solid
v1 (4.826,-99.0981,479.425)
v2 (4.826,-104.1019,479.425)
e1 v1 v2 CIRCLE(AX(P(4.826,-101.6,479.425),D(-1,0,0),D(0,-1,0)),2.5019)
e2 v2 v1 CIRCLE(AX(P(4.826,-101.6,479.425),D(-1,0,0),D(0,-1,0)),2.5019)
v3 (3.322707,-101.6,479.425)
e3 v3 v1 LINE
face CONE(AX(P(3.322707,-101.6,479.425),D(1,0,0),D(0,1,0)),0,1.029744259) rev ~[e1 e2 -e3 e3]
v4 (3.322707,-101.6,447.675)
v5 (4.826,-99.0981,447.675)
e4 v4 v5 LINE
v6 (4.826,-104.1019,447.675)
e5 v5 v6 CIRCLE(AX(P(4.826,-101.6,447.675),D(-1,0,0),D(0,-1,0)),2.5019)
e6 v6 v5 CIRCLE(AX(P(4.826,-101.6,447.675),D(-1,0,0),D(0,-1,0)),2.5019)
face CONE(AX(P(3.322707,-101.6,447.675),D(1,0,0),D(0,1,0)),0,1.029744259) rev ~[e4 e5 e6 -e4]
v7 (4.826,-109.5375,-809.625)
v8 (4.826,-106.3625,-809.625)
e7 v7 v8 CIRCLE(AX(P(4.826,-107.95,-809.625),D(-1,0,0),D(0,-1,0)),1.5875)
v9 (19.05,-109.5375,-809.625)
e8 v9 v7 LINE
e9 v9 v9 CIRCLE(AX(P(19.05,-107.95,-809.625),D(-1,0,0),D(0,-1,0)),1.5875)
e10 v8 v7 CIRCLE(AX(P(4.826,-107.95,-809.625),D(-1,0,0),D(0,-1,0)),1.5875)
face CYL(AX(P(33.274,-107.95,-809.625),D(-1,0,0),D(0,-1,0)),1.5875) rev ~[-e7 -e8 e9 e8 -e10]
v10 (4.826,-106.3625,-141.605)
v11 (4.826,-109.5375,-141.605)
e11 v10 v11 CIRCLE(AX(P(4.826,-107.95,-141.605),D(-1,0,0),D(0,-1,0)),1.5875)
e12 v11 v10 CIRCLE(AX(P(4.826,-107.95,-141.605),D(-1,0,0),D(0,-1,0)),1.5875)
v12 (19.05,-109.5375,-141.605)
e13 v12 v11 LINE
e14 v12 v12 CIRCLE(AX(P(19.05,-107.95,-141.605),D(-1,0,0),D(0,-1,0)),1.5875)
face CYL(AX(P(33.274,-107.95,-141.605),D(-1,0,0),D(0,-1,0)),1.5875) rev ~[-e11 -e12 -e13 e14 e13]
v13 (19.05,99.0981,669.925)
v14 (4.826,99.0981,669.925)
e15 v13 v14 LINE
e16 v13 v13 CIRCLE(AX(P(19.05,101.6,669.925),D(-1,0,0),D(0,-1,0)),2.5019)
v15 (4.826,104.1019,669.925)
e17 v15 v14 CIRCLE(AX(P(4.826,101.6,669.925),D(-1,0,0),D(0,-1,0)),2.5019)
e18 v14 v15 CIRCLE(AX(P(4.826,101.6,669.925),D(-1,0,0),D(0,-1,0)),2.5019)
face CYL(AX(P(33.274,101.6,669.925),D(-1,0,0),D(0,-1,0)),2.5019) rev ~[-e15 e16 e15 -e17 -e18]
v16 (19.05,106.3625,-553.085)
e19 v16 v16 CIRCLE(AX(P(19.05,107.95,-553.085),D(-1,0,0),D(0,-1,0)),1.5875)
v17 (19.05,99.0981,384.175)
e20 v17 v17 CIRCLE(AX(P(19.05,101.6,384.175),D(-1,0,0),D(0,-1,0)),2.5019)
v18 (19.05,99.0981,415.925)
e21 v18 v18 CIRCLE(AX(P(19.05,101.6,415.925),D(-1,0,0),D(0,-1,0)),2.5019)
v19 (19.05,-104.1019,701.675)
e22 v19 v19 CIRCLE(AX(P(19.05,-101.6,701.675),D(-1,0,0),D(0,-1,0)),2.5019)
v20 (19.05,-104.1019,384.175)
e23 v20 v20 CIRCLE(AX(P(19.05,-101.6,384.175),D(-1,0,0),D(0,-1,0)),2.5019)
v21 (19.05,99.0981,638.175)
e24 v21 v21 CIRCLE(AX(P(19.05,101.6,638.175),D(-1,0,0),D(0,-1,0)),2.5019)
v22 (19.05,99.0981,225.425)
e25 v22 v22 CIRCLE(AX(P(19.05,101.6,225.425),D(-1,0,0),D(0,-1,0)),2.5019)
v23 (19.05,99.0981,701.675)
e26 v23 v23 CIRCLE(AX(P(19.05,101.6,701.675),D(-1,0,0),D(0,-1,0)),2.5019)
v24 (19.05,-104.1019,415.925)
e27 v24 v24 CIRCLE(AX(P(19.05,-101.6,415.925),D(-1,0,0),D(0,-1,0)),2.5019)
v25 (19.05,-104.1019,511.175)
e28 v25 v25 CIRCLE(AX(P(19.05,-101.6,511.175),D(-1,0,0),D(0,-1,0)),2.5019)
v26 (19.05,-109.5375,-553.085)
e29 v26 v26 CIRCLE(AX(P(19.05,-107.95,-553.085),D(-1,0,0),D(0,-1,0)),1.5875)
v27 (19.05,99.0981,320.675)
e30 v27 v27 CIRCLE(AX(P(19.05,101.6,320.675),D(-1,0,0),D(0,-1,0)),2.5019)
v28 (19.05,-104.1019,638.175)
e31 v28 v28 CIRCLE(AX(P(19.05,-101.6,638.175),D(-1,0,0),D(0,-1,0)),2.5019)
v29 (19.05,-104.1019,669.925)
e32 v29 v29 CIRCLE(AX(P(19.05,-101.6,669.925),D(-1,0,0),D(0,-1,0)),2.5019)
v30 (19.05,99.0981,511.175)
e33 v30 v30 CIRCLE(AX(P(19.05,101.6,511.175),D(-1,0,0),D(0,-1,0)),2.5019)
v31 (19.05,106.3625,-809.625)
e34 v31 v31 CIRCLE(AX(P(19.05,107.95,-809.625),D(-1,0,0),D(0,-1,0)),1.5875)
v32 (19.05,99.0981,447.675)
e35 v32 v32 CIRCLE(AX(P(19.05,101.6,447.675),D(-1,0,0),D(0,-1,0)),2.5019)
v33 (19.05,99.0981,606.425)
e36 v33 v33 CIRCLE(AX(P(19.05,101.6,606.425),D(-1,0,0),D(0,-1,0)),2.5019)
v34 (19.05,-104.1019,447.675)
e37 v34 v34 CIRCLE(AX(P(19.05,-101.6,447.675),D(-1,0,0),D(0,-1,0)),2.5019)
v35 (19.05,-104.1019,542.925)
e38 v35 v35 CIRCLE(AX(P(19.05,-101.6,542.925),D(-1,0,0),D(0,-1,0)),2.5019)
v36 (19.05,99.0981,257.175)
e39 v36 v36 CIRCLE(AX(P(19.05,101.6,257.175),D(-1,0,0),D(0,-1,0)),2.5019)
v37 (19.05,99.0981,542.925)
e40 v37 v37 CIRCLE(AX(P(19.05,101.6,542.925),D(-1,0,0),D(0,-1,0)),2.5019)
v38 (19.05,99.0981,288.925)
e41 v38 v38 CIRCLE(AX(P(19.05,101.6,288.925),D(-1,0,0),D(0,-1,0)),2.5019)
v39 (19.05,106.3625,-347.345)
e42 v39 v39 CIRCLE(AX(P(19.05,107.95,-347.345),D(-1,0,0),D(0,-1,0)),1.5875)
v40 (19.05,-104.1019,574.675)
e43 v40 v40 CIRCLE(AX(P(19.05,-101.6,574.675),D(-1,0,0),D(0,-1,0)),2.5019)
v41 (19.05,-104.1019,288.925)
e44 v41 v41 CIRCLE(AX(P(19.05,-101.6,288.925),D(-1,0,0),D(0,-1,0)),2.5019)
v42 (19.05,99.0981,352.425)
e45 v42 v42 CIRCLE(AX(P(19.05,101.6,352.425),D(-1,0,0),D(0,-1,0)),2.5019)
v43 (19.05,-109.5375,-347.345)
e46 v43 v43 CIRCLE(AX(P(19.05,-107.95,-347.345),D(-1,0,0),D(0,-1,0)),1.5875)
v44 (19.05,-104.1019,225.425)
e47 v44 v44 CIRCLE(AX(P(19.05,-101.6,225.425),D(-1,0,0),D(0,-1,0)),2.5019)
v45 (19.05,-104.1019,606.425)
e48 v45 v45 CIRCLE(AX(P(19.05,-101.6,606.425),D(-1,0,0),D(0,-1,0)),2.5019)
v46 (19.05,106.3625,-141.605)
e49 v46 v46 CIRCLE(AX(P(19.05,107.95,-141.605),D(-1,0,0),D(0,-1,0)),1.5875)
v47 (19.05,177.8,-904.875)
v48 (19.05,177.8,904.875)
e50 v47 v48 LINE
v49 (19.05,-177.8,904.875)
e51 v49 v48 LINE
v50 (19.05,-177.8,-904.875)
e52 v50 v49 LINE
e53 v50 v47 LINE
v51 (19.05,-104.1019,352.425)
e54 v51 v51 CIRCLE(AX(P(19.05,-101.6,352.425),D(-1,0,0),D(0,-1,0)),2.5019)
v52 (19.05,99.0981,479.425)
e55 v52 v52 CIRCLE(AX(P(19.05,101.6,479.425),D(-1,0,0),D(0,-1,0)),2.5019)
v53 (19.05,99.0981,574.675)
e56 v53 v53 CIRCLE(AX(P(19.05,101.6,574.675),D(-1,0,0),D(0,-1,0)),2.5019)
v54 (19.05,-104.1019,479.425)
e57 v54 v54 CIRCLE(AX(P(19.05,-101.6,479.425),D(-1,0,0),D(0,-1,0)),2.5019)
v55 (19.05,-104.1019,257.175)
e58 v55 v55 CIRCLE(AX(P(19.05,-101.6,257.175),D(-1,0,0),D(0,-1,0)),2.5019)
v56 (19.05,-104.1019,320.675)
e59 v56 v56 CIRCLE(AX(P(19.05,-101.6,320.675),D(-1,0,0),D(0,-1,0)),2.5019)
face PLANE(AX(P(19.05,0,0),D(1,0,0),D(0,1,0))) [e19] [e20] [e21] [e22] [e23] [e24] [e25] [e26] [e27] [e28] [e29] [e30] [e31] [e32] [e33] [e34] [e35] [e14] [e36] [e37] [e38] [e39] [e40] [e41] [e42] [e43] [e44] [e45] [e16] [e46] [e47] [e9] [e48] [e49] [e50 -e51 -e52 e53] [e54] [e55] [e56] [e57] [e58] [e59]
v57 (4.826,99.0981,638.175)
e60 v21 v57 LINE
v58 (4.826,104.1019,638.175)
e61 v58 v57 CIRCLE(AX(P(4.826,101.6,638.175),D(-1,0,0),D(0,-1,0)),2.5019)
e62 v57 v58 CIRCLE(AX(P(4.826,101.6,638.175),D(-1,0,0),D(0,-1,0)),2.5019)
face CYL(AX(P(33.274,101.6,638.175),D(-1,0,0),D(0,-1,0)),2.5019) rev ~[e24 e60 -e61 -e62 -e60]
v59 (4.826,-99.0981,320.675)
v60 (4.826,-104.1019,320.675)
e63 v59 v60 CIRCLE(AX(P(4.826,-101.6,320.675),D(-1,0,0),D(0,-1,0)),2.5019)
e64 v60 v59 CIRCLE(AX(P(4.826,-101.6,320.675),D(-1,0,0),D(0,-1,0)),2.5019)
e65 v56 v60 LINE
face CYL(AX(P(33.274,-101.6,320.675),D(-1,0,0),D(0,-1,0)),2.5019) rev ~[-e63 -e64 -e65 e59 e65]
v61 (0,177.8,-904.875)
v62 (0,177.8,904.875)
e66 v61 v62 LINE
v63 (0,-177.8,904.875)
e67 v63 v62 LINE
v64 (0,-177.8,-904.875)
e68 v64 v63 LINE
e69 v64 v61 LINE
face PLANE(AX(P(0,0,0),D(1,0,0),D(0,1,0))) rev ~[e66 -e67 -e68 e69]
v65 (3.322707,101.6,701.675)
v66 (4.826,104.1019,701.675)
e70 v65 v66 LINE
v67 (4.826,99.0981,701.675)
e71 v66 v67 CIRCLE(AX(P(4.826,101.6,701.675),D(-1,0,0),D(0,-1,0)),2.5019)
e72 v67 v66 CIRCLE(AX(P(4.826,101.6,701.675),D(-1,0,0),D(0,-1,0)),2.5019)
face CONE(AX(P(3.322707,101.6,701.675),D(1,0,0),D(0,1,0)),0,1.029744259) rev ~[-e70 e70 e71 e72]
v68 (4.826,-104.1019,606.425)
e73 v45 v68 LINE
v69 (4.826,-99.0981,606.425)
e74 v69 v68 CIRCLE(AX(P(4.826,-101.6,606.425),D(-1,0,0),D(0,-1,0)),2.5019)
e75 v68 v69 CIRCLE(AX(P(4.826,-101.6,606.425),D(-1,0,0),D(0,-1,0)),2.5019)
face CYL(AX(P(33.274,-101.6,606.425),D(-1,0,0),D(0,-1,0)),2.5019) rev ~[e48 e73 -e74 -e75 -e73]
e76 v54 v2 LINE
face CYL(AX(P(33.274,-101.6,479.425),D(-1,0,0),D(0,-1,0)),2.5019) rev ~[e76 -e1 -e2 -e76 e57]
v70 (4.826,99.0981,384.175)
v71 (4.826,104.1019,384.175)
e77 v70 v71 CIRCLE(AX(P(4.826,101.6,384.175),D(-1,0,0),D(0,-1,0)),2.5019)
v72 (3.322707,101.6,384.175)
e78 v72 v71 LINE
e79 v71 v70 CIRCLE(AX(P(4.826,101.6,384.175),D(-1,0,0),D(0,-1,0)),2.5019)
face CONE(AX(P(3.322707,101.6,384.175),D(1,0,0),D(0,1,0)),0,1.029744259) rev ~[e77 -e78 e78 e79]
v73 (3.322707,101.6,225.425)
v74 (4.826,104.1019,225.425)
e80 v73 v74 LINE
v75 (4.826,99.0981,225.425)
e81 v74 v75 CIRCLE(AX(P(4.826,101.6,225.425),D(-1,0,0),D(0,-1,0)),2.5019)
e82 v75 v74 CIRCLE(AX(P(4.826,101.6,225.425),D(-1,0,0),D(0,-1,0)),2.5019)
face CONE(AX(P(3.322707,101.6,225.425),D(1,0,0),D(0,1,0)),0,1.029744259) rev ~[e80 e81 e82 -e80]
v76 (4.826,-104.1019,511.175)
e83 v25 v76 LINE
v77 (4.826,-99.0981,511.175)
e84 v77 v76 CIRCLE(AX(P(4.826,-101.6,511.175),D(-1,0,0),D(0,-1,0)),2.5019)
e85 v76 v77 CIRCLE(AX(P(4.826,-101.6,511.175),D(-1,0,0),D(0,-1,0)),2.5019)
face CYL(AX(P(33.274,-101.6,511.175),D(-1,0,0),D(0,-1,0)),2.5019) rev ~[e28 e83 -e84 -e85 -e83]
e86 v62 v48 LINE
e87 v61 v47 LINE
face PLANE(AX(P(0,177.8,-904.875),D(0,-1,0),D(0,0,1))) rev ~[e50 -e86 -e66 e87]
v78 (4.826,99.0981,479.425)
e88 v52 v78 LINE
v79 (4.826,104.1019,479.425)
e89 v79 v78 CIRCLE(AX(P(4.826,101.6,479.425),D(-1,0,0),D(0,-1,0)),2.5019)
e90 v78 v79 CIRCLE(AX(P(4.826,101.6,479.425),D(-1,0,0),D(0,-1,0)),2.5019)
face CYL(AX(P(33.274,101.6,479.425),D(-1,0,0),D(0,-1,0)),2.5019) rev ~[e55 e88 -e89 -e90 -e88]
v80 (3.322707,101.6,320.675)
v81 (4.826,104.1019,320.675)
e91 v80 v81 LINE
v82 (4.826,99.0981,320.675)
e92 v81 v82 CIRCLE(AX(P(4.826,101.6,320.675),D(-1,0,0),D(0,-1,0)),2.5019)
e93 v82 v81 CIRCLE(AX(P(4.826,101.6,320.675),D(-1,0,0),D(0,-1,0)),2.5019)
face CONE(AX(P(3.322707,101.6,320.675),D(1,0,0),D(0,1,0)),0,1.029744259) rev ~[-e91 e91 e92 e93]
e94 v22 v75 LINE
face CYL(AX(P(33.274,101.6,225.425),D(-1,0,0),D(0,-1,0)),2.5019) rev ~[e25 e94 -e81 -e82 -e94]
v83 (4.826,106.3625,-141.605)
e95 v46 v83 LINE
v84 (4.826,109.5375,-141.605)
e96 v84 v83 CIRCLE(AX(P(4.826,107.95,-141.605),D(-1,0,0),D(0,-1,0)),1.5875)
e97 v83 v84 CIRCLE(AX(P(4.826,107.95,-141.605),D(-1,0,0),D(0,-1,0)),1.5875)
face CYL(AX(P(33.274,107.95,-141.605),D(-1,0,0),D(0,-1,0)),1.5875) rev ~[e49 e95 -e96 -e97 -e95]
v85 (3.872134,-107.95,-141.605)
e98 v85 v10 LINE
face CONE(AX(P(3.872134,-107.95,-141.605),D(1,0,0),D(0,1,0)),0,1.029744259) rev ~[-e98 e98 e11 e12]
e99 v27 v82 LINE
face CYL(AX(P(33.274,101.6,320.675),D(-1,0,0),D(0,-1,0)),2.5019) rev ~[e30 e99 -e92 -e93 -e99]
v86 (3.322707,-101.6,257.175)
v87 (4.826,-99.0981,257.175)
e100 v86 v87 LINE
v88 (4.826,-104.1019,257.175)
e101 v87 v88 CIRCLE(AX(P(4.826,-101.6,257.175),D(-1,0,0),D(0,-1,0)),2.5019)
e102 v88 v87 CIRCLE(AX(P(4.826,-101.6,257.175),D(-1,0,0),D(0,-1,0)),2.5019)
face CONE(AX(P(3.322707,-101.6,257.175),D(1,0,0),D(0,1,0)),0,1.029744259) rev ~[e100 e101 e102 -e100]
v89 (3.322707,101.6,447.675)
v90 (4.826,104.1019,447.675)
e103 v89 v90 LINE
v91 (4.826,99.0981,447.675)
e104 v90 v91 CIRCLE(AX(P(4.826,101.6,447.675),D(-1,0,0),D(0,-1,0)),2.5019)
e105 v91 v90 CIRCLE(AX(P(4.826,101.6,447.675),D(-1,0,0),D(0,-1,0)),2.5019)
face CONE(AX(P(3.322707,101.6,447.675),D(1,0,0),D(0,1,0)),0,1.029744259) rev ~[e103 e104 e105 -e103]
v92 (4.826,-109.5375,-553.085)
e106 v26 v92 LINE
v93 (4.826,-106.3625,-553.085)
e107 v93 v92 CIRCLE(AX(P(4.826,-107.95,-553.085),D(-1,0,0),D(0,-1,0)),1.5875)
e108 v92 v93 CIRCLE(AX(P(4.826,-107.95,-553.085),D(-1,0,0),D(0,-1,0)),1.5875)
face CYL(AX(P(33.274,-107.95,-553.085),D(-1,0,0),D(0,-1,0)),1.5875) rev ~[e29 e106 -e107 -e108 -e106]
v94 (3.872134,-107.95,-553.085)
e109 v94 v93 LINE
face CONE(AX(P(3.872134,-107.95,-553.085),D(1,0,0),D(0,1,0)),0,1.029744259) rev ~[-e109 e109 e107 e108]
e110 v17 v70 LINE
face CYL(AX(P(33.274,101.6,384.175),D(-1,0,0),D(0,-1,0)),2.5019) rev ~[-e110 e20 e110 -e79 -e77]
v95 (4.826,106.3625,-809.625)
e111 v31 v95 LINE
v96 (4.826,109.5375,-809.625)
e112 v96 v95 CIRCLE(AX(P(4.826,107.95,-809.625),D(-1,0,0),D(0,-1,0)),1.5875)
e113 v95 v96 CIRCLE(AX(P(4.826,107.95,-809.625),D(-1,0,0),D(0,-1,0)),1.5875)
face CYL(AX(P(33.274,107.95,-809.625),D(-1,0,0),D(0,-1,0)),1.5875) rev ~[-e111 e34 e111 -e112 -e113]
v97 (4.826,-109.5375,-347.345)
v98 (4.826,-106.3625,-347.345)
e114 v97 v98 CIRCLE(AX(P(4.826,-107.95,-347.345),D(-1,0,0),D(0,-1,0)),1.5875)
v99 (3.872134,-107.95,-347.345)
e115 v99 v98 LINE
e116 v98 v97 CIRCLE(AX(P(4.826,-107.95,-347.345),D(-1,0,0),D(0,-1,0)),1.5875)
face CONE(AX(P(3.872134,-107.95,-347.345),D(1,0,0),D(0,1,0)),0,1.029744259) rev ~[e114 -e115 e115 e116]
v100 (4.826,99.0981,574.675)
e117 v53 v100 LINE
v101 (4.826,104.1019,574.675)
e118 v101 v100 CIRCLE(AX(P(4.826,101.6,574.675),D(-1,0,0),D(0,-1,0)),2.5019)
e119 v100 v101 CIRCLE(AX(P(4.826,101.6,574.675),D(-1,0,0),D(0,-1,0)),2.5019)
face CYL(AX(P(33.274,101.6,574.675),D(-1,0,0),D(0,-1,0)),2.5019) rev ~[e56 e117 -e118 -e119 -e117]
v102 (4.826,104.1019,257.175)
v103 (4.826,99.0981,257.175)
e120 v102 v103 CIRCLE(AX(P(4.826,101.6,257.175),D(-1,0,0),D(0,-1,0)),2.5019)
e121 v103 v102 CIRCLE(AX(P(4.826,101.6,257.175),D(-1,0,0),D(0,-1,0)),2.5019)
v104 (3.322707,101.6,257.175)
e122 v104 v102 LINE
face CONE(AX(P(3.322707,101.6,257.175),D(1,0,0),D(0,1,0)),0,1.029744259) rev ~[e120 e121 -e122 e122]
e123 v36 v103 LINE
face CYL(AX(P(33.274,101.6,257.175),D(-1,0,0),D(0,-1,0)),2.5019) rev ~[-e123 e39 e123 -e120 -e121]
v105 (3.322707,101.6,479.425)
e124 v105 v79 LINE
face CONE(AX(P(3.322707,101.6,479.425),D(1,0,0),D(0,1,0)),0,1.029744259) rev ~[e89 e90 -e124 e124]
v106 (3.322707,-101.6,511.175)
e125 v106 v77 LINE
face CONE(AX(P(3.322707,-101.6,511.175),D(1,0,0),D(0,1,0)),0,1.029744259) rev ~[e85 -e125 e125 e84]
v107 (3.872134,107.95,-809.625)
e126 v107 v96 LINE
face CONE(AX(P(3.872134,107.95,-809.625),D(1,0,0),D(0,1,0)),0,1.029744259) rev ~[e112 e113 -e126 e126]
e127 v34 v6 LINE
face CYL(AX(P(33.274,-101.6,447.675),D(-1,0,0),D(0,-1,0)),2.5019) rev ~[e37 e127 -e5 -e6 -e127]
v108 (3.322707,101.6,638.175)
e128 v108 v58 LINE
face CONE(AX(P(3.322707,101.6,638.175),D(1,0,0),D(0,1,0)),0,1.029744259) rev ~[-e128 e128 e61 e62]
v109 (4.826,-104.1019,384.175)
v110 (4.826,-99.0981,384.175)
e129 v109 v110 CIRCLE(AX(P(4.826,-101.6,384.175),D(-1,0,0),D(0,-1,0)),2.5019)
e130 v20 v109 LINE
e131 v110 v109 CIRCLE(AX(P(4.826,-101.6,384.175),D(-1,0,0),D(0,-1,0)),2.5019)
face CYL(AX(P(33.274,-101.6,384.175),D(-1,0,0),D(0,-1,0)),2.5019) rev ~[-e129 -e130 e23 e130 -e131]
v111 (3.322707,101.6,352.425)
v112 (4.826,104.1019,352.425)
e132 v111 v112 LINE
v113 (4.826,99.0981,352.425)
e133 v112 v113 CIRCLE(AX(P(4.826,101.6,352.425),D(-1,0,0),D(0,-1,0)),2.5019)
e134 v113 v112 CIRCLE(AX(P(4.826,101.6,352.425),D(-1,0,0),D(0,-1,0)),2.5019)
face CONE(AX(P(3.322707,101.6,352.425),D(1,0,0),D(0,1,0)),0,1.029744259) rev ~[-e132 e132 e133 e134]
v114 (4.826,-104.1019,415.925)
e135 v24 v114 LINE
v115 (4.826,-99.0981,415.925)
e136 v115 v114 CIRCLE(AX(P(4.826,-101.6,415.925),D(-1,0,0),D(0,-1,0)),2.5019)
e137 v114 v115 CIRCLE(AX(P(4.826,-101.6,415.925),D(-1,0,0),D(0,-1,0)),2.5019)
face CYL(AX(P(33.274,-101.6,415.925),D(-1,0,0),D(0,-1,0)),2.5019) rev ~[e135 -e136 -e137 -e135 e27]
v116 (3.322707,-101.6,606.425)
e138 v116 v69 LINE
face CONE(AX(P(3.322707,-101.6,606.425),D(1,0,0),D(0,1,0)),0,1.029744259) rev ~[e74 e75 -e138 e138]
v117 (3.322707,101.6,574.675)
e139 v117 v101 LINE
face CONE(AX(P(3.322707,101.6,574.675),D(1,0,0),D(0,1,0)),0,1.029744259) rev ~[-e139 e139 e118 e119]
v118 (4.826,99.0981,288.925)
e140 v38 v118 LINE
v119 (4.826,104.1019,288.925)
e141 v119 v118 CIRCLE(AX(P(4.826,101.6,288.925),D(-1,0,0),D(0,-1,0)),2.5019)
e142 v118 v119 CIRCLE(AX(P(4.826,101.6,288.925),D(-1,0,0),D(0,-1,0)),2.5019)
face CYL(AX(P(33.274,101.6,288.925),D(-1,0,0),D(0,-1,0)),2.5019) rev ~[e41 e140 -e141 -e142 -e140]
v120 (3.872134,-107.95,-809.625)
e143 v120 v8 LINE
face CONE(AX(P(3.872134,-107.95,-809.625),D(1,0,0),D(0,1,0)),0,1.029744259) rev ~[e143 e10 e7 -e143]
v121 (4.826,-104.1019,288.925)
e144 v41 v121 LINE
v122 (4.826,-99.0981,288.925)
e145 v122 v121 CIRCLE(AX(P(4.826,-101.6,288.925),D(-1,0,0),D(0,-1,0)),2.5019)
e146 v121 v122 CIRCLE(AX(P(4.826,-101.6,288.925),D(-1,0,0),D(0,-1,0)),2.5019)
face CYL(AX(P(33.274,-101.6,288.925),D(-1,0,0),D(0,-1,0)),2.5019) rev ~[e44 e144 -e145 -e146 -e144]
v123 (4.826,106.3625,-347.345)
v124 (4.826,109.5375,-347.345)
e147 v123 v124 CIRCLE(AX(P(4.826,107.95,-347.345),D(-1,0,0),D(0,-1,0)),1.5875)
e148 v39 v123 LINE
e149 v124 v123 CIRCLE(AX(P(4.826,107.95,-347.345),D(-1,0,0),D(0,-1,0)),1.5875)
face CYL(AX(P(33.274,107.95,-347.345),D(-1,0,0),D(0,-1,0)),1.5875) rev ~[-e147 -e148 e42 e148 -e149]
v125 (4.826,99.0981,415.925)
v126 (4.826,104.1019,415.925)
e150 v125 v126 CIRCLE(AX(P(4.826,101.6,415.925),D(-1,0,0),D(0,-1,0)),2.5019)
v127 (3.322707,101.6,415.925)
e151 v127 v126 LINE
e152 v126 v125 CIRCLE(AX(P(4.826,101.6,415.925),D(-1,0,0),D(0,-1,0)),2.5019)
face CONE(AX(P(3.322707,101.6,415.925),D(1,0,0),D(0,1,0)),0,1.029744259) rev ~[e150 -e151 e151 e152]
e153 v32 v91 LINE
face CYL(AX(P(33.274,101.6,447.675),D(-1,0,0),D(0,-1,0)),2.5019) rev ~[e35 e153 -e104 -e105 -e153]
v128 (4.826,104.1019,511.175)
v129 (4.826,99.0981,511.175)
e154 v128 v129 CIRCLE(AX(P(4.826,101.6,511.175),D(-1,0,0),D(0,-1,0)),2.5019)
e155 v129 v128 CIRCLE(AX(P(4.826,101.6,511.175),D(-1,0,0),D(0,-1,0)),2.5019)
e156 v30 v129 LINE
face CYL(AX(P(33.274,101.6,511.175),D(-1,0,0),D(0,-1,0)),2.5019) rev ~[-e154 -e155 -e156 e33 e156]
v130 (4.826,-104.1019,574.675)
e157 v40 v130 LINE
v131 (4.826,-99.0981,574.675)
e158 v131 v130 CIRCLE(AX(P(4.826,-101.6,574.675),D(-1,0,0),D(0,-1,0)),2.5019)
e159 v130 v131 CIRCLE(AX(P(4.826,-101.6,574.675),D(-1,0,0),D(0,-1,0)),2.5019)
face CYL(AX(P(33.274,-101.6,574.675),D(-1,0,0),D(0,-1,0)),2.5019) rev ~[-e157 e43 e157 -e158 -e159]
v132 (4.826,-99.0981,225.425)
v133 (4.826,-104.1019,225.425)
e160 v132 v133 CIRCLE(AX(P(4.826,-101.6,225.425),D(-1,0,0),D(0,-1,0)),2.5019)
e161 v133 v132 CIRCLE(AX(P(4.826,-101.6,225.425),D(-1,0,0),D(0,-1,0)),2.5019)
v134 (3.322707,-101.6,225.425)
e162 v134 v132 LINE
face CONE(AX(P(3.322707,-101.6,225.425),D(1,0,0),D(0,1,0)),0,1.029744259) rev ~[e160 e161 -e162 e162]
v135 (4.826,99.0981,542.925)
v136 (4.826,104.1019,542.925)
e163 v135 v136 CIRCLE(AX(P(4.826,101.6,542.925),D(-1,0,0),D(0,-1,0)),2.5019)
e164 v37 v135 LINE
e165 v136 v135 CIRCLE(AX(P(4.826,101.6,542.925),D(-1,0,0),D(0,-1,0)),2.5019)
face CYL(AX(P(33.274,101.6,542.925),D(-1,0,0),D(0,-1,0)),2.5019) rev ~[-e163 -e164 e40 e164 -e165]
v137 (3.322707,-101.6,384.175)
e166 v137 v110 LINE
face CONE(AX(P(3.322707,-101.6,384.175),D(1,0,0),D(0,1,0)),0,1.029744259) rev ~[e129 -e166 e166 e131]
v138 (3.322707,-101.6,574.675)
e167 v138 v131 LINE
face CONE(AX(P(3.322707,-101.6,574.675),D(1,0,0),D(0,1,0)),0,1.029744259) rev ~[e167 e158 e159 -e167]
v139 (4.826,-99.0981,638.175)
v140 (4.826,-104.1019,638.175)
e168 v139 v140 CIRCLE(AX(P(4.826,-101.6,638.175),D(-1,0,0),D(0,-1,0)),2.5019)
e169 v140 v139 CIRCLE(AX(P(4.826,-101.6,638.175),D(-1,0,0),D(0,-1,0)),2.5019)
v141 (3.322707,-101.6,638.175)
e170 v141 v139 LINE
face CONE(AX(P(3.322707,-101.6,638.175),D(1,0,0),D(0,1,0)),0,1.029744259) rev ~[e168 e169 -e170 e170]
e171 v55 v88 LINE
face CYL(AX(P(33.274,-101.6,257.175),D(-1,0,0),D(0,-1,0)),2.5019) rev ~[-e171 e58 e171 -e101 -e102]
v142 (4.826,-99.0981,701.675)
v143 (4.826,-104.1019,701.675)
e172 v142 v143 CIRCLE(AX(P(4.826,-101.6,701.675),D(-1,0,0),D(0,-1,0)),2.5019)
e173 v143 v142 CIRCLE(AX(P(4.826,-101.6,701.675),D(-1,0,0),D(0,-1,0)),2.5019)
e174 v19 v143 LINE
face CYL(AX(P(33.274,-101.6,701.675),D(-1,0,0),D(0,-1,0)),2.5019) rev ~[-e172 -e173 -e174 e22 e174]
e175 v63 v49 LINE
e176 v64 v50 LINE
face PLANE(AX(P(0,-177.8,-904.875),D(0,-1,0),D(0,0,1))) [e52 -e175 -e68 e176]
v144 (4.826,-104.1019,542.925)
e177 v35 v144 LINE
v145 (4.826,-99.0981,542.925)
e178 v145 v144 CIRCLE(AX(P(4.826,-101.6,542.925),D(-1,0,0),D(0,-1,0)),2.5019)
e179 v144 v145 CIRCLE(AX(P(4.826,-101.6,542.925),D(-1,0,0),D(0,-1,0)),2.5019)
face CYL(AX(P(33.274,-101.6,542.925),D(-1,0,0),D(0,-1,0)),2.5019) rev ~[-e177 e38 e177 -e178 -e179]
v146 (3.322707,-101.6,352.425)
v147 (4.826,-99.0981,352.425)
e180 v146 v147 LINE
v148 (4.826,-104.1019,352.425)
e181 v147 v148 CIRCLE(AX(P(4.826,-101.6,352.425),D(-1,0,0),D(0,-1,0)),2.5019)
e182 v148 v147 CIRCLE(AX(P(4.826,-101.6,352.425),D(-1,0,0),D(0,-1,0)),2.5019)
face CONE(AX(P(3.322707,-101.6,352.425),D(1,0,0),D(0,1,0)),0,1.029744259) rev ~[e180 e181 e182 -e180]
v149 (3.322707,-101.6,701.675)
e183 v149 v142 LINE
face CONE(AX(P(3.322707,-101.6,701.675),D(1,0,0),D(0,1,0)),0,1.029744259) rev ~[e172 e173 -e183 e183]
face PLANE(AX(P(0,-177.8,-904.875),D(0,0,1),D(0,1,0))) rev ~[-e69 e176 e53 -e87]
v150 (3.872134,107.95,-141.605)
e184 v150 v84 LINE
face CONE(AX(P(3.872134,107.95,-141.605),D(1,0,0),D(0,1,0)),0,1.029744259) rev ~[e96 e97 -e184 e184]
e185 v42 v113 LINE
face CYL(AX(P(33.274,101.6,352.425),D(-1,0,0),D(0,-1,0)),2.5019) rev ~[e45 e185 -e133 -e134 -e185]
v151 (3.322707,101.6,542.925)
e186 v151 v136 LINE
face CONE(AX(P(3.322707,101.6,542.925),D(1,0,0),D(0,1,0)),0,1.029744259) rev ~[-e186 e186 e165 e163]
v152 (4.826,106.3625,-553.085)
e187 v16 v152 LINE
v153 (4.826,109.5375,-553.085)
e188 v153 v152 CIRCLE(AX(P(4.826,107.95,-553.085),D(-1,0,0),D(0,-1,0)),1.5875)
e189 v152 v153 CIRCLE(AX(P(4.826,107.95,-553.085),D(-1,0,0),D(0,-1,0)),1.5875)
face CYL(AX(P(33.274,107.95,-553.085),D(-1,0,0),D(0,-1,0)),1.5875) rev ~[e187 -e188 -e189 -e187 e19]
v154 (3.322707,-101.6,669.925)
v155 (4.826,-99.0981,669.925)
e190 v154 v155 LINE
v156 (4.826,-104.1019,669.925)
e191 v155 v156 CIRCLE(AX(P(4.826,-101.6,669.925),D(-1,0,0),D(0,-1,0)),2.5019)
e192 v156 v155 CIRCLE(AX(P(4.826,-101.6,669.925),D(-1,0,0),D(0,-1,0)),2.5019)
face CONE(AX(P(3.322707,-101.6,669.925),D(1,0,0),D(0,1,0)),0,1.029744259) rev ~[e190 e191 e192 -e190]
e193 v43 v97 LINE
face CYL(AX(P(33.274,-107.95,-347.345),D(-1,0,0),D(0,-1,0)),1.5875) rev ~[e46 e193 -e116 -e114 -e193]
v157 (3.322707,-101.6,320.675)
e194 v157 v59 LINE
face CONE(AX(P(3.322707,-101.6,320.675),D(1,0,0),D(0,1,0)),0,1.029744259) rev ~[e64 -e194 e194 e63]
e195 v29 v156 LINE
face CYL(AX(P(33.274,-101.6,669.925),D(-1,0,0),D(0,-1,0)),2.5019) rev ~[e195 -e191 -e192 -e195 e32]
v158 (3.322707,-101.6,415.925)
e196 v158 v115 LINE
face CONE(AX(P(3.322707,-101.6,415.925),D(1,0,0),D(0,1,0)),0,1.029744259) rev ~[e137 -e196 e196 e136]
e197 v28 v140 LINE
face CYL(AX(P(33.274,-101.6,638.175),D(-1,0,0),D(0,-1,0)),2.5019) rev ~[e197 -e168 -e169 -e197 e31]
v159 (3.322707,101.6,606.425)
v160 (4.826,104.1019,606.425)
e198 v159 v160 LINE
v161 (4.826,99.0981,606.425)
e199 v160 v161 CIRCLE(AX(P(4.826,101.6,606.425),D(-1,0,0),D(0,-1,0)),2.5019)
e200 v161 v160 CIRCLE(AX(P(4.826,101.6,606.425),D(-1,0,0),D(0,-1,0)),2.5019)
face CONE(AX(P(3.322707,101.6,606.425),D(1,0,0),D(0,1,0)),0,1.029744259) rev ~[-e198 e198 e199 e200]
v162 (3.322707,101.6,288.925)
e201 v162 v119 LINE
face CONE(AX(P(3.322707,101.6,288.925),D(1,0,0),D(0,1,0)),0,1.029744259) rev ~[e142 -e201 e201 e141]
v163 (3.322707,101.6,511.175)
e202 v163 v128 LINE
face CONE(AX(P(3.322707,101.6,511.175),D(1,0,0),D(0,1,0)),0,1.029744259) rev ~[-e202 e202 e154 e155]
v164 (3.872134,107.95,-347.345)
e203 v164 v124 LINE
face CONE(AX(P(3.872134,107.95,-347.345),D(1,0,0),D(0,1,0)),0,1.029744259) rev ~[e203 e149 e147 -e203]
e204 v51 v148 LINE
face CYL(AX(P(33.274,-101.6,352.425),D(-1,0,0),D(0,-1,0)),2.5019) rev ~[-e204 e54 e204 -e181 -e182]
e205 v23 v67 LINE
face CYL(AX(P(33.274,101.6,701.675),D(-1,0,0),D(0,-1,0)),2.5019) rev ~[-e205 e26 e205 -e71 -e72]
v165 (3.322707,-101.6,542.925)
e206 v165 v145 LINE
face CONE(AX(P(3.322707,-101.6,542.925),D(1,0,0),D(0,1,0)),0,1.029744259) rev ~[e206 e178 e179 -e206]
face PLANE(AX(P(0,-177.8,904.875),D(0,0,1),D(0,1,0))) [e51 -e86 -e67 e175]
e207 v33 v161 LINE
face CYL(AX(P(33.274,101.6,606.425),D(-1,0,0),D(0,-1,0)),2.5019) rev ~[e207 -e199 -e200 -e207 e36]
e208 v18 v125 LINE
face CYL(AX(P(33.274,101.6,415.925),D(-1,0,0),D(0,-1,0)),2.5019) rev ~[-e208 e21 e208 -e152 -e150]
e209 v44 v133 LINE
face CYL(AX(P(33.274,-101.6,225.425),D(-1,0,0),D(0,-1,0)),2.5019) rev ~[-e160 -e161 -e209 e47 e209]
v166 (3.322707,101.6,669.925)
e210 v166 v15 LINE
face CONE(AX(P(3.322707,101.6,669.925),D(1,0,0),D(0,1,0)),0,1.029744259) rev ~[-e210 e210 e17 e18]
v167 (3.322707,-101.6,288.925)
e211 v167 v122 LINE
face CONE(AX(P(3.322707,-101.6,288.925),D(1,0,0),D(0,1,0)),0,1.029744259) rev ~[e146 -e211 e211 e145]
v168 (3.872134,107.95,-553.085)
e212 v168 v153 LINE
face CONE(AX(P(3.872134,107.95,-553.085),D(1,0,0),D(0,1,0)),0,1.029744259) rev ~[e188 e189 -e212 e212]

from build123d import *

# Parameters (mm, degrees)
F0_W     = 355.6
F0_H     = 1809.75
F1_DEPTH = 19.05
F3_D     = 5.0038
F3_DEPTH = 14.224
F3_TIP   = 1.5032931827
F5_D     = 3.175
F5_DEPTH = 14.224
F5_TIP   = 0.9538662327


with BuildPart() as f1:
    # F0 (on Right) → F1 (new body)
    with BuildSketch(Plane.YZ):
        Rectangle(F0_W, F0_H)
    extrude(amount=F1_DEPTH)

    # F3
    with Locations(Plane.YZ.offset(19.05)):
        with Locations((-101.6, 701.675), (-101.6, 669.925), (-101.6, 638.175), (-101.6, 606.425), (-101.6, 574.675), (-101.6, 542.925), (-101.6, 511.175), (-101.6, 479.425), (-101.6, 447.675), (-101.6, 415.925), (-101.6, 384.175), (-101.6, 352.425), (-101.6, 320.675), (-101.6, 288.925), (-101.6, 257.175), (-101.6, 225.425), (101.6, 225.425), (101.6, 257.175), (101.6, 288.925), (101.6, 320.675), (101.6, 352.425), (101.6, 384.175), (101.6, 415.925), (101.6, 447.675), (101.6, 479.425), (101.6, 511.175), (101.6, 542.925), (101.6, 574.675), (101.6, 606.425), (101.6, 638.175), (101.6, 669.925), (101.6, 701.675)):
            Hole(F3_D / 2, depth=F3_DEPTH)
            with Locations((0, 0, -(F3_DEPTH + F3_TIP / 2))):  # 118° drill point
                Cone(0, F3_D / 2, F3_TIP, mode=Mode.SUBTRACT)

    # F5
    with Locations(Plane.YZ.offset(19.05)):
        with Locations((-107.95, -141.605), (107.95, -141.605), (107.95, -347.345), (-107.95, -347.345), (-107.95, -553.085), (107.95, -553.085), (107.95, -809.625), (-107.95, -809.625)):
            Hole(F5_D / 2, depth=F5_DEPTH)
            with Locations((0, 0, -(F5_DEPTH + F5_TIP / 2))):  # 118° drill point
                Cone(0, F5_D / 2, F5_TIP, mode=Mode.SUBTRACT)


solid = f1.part
